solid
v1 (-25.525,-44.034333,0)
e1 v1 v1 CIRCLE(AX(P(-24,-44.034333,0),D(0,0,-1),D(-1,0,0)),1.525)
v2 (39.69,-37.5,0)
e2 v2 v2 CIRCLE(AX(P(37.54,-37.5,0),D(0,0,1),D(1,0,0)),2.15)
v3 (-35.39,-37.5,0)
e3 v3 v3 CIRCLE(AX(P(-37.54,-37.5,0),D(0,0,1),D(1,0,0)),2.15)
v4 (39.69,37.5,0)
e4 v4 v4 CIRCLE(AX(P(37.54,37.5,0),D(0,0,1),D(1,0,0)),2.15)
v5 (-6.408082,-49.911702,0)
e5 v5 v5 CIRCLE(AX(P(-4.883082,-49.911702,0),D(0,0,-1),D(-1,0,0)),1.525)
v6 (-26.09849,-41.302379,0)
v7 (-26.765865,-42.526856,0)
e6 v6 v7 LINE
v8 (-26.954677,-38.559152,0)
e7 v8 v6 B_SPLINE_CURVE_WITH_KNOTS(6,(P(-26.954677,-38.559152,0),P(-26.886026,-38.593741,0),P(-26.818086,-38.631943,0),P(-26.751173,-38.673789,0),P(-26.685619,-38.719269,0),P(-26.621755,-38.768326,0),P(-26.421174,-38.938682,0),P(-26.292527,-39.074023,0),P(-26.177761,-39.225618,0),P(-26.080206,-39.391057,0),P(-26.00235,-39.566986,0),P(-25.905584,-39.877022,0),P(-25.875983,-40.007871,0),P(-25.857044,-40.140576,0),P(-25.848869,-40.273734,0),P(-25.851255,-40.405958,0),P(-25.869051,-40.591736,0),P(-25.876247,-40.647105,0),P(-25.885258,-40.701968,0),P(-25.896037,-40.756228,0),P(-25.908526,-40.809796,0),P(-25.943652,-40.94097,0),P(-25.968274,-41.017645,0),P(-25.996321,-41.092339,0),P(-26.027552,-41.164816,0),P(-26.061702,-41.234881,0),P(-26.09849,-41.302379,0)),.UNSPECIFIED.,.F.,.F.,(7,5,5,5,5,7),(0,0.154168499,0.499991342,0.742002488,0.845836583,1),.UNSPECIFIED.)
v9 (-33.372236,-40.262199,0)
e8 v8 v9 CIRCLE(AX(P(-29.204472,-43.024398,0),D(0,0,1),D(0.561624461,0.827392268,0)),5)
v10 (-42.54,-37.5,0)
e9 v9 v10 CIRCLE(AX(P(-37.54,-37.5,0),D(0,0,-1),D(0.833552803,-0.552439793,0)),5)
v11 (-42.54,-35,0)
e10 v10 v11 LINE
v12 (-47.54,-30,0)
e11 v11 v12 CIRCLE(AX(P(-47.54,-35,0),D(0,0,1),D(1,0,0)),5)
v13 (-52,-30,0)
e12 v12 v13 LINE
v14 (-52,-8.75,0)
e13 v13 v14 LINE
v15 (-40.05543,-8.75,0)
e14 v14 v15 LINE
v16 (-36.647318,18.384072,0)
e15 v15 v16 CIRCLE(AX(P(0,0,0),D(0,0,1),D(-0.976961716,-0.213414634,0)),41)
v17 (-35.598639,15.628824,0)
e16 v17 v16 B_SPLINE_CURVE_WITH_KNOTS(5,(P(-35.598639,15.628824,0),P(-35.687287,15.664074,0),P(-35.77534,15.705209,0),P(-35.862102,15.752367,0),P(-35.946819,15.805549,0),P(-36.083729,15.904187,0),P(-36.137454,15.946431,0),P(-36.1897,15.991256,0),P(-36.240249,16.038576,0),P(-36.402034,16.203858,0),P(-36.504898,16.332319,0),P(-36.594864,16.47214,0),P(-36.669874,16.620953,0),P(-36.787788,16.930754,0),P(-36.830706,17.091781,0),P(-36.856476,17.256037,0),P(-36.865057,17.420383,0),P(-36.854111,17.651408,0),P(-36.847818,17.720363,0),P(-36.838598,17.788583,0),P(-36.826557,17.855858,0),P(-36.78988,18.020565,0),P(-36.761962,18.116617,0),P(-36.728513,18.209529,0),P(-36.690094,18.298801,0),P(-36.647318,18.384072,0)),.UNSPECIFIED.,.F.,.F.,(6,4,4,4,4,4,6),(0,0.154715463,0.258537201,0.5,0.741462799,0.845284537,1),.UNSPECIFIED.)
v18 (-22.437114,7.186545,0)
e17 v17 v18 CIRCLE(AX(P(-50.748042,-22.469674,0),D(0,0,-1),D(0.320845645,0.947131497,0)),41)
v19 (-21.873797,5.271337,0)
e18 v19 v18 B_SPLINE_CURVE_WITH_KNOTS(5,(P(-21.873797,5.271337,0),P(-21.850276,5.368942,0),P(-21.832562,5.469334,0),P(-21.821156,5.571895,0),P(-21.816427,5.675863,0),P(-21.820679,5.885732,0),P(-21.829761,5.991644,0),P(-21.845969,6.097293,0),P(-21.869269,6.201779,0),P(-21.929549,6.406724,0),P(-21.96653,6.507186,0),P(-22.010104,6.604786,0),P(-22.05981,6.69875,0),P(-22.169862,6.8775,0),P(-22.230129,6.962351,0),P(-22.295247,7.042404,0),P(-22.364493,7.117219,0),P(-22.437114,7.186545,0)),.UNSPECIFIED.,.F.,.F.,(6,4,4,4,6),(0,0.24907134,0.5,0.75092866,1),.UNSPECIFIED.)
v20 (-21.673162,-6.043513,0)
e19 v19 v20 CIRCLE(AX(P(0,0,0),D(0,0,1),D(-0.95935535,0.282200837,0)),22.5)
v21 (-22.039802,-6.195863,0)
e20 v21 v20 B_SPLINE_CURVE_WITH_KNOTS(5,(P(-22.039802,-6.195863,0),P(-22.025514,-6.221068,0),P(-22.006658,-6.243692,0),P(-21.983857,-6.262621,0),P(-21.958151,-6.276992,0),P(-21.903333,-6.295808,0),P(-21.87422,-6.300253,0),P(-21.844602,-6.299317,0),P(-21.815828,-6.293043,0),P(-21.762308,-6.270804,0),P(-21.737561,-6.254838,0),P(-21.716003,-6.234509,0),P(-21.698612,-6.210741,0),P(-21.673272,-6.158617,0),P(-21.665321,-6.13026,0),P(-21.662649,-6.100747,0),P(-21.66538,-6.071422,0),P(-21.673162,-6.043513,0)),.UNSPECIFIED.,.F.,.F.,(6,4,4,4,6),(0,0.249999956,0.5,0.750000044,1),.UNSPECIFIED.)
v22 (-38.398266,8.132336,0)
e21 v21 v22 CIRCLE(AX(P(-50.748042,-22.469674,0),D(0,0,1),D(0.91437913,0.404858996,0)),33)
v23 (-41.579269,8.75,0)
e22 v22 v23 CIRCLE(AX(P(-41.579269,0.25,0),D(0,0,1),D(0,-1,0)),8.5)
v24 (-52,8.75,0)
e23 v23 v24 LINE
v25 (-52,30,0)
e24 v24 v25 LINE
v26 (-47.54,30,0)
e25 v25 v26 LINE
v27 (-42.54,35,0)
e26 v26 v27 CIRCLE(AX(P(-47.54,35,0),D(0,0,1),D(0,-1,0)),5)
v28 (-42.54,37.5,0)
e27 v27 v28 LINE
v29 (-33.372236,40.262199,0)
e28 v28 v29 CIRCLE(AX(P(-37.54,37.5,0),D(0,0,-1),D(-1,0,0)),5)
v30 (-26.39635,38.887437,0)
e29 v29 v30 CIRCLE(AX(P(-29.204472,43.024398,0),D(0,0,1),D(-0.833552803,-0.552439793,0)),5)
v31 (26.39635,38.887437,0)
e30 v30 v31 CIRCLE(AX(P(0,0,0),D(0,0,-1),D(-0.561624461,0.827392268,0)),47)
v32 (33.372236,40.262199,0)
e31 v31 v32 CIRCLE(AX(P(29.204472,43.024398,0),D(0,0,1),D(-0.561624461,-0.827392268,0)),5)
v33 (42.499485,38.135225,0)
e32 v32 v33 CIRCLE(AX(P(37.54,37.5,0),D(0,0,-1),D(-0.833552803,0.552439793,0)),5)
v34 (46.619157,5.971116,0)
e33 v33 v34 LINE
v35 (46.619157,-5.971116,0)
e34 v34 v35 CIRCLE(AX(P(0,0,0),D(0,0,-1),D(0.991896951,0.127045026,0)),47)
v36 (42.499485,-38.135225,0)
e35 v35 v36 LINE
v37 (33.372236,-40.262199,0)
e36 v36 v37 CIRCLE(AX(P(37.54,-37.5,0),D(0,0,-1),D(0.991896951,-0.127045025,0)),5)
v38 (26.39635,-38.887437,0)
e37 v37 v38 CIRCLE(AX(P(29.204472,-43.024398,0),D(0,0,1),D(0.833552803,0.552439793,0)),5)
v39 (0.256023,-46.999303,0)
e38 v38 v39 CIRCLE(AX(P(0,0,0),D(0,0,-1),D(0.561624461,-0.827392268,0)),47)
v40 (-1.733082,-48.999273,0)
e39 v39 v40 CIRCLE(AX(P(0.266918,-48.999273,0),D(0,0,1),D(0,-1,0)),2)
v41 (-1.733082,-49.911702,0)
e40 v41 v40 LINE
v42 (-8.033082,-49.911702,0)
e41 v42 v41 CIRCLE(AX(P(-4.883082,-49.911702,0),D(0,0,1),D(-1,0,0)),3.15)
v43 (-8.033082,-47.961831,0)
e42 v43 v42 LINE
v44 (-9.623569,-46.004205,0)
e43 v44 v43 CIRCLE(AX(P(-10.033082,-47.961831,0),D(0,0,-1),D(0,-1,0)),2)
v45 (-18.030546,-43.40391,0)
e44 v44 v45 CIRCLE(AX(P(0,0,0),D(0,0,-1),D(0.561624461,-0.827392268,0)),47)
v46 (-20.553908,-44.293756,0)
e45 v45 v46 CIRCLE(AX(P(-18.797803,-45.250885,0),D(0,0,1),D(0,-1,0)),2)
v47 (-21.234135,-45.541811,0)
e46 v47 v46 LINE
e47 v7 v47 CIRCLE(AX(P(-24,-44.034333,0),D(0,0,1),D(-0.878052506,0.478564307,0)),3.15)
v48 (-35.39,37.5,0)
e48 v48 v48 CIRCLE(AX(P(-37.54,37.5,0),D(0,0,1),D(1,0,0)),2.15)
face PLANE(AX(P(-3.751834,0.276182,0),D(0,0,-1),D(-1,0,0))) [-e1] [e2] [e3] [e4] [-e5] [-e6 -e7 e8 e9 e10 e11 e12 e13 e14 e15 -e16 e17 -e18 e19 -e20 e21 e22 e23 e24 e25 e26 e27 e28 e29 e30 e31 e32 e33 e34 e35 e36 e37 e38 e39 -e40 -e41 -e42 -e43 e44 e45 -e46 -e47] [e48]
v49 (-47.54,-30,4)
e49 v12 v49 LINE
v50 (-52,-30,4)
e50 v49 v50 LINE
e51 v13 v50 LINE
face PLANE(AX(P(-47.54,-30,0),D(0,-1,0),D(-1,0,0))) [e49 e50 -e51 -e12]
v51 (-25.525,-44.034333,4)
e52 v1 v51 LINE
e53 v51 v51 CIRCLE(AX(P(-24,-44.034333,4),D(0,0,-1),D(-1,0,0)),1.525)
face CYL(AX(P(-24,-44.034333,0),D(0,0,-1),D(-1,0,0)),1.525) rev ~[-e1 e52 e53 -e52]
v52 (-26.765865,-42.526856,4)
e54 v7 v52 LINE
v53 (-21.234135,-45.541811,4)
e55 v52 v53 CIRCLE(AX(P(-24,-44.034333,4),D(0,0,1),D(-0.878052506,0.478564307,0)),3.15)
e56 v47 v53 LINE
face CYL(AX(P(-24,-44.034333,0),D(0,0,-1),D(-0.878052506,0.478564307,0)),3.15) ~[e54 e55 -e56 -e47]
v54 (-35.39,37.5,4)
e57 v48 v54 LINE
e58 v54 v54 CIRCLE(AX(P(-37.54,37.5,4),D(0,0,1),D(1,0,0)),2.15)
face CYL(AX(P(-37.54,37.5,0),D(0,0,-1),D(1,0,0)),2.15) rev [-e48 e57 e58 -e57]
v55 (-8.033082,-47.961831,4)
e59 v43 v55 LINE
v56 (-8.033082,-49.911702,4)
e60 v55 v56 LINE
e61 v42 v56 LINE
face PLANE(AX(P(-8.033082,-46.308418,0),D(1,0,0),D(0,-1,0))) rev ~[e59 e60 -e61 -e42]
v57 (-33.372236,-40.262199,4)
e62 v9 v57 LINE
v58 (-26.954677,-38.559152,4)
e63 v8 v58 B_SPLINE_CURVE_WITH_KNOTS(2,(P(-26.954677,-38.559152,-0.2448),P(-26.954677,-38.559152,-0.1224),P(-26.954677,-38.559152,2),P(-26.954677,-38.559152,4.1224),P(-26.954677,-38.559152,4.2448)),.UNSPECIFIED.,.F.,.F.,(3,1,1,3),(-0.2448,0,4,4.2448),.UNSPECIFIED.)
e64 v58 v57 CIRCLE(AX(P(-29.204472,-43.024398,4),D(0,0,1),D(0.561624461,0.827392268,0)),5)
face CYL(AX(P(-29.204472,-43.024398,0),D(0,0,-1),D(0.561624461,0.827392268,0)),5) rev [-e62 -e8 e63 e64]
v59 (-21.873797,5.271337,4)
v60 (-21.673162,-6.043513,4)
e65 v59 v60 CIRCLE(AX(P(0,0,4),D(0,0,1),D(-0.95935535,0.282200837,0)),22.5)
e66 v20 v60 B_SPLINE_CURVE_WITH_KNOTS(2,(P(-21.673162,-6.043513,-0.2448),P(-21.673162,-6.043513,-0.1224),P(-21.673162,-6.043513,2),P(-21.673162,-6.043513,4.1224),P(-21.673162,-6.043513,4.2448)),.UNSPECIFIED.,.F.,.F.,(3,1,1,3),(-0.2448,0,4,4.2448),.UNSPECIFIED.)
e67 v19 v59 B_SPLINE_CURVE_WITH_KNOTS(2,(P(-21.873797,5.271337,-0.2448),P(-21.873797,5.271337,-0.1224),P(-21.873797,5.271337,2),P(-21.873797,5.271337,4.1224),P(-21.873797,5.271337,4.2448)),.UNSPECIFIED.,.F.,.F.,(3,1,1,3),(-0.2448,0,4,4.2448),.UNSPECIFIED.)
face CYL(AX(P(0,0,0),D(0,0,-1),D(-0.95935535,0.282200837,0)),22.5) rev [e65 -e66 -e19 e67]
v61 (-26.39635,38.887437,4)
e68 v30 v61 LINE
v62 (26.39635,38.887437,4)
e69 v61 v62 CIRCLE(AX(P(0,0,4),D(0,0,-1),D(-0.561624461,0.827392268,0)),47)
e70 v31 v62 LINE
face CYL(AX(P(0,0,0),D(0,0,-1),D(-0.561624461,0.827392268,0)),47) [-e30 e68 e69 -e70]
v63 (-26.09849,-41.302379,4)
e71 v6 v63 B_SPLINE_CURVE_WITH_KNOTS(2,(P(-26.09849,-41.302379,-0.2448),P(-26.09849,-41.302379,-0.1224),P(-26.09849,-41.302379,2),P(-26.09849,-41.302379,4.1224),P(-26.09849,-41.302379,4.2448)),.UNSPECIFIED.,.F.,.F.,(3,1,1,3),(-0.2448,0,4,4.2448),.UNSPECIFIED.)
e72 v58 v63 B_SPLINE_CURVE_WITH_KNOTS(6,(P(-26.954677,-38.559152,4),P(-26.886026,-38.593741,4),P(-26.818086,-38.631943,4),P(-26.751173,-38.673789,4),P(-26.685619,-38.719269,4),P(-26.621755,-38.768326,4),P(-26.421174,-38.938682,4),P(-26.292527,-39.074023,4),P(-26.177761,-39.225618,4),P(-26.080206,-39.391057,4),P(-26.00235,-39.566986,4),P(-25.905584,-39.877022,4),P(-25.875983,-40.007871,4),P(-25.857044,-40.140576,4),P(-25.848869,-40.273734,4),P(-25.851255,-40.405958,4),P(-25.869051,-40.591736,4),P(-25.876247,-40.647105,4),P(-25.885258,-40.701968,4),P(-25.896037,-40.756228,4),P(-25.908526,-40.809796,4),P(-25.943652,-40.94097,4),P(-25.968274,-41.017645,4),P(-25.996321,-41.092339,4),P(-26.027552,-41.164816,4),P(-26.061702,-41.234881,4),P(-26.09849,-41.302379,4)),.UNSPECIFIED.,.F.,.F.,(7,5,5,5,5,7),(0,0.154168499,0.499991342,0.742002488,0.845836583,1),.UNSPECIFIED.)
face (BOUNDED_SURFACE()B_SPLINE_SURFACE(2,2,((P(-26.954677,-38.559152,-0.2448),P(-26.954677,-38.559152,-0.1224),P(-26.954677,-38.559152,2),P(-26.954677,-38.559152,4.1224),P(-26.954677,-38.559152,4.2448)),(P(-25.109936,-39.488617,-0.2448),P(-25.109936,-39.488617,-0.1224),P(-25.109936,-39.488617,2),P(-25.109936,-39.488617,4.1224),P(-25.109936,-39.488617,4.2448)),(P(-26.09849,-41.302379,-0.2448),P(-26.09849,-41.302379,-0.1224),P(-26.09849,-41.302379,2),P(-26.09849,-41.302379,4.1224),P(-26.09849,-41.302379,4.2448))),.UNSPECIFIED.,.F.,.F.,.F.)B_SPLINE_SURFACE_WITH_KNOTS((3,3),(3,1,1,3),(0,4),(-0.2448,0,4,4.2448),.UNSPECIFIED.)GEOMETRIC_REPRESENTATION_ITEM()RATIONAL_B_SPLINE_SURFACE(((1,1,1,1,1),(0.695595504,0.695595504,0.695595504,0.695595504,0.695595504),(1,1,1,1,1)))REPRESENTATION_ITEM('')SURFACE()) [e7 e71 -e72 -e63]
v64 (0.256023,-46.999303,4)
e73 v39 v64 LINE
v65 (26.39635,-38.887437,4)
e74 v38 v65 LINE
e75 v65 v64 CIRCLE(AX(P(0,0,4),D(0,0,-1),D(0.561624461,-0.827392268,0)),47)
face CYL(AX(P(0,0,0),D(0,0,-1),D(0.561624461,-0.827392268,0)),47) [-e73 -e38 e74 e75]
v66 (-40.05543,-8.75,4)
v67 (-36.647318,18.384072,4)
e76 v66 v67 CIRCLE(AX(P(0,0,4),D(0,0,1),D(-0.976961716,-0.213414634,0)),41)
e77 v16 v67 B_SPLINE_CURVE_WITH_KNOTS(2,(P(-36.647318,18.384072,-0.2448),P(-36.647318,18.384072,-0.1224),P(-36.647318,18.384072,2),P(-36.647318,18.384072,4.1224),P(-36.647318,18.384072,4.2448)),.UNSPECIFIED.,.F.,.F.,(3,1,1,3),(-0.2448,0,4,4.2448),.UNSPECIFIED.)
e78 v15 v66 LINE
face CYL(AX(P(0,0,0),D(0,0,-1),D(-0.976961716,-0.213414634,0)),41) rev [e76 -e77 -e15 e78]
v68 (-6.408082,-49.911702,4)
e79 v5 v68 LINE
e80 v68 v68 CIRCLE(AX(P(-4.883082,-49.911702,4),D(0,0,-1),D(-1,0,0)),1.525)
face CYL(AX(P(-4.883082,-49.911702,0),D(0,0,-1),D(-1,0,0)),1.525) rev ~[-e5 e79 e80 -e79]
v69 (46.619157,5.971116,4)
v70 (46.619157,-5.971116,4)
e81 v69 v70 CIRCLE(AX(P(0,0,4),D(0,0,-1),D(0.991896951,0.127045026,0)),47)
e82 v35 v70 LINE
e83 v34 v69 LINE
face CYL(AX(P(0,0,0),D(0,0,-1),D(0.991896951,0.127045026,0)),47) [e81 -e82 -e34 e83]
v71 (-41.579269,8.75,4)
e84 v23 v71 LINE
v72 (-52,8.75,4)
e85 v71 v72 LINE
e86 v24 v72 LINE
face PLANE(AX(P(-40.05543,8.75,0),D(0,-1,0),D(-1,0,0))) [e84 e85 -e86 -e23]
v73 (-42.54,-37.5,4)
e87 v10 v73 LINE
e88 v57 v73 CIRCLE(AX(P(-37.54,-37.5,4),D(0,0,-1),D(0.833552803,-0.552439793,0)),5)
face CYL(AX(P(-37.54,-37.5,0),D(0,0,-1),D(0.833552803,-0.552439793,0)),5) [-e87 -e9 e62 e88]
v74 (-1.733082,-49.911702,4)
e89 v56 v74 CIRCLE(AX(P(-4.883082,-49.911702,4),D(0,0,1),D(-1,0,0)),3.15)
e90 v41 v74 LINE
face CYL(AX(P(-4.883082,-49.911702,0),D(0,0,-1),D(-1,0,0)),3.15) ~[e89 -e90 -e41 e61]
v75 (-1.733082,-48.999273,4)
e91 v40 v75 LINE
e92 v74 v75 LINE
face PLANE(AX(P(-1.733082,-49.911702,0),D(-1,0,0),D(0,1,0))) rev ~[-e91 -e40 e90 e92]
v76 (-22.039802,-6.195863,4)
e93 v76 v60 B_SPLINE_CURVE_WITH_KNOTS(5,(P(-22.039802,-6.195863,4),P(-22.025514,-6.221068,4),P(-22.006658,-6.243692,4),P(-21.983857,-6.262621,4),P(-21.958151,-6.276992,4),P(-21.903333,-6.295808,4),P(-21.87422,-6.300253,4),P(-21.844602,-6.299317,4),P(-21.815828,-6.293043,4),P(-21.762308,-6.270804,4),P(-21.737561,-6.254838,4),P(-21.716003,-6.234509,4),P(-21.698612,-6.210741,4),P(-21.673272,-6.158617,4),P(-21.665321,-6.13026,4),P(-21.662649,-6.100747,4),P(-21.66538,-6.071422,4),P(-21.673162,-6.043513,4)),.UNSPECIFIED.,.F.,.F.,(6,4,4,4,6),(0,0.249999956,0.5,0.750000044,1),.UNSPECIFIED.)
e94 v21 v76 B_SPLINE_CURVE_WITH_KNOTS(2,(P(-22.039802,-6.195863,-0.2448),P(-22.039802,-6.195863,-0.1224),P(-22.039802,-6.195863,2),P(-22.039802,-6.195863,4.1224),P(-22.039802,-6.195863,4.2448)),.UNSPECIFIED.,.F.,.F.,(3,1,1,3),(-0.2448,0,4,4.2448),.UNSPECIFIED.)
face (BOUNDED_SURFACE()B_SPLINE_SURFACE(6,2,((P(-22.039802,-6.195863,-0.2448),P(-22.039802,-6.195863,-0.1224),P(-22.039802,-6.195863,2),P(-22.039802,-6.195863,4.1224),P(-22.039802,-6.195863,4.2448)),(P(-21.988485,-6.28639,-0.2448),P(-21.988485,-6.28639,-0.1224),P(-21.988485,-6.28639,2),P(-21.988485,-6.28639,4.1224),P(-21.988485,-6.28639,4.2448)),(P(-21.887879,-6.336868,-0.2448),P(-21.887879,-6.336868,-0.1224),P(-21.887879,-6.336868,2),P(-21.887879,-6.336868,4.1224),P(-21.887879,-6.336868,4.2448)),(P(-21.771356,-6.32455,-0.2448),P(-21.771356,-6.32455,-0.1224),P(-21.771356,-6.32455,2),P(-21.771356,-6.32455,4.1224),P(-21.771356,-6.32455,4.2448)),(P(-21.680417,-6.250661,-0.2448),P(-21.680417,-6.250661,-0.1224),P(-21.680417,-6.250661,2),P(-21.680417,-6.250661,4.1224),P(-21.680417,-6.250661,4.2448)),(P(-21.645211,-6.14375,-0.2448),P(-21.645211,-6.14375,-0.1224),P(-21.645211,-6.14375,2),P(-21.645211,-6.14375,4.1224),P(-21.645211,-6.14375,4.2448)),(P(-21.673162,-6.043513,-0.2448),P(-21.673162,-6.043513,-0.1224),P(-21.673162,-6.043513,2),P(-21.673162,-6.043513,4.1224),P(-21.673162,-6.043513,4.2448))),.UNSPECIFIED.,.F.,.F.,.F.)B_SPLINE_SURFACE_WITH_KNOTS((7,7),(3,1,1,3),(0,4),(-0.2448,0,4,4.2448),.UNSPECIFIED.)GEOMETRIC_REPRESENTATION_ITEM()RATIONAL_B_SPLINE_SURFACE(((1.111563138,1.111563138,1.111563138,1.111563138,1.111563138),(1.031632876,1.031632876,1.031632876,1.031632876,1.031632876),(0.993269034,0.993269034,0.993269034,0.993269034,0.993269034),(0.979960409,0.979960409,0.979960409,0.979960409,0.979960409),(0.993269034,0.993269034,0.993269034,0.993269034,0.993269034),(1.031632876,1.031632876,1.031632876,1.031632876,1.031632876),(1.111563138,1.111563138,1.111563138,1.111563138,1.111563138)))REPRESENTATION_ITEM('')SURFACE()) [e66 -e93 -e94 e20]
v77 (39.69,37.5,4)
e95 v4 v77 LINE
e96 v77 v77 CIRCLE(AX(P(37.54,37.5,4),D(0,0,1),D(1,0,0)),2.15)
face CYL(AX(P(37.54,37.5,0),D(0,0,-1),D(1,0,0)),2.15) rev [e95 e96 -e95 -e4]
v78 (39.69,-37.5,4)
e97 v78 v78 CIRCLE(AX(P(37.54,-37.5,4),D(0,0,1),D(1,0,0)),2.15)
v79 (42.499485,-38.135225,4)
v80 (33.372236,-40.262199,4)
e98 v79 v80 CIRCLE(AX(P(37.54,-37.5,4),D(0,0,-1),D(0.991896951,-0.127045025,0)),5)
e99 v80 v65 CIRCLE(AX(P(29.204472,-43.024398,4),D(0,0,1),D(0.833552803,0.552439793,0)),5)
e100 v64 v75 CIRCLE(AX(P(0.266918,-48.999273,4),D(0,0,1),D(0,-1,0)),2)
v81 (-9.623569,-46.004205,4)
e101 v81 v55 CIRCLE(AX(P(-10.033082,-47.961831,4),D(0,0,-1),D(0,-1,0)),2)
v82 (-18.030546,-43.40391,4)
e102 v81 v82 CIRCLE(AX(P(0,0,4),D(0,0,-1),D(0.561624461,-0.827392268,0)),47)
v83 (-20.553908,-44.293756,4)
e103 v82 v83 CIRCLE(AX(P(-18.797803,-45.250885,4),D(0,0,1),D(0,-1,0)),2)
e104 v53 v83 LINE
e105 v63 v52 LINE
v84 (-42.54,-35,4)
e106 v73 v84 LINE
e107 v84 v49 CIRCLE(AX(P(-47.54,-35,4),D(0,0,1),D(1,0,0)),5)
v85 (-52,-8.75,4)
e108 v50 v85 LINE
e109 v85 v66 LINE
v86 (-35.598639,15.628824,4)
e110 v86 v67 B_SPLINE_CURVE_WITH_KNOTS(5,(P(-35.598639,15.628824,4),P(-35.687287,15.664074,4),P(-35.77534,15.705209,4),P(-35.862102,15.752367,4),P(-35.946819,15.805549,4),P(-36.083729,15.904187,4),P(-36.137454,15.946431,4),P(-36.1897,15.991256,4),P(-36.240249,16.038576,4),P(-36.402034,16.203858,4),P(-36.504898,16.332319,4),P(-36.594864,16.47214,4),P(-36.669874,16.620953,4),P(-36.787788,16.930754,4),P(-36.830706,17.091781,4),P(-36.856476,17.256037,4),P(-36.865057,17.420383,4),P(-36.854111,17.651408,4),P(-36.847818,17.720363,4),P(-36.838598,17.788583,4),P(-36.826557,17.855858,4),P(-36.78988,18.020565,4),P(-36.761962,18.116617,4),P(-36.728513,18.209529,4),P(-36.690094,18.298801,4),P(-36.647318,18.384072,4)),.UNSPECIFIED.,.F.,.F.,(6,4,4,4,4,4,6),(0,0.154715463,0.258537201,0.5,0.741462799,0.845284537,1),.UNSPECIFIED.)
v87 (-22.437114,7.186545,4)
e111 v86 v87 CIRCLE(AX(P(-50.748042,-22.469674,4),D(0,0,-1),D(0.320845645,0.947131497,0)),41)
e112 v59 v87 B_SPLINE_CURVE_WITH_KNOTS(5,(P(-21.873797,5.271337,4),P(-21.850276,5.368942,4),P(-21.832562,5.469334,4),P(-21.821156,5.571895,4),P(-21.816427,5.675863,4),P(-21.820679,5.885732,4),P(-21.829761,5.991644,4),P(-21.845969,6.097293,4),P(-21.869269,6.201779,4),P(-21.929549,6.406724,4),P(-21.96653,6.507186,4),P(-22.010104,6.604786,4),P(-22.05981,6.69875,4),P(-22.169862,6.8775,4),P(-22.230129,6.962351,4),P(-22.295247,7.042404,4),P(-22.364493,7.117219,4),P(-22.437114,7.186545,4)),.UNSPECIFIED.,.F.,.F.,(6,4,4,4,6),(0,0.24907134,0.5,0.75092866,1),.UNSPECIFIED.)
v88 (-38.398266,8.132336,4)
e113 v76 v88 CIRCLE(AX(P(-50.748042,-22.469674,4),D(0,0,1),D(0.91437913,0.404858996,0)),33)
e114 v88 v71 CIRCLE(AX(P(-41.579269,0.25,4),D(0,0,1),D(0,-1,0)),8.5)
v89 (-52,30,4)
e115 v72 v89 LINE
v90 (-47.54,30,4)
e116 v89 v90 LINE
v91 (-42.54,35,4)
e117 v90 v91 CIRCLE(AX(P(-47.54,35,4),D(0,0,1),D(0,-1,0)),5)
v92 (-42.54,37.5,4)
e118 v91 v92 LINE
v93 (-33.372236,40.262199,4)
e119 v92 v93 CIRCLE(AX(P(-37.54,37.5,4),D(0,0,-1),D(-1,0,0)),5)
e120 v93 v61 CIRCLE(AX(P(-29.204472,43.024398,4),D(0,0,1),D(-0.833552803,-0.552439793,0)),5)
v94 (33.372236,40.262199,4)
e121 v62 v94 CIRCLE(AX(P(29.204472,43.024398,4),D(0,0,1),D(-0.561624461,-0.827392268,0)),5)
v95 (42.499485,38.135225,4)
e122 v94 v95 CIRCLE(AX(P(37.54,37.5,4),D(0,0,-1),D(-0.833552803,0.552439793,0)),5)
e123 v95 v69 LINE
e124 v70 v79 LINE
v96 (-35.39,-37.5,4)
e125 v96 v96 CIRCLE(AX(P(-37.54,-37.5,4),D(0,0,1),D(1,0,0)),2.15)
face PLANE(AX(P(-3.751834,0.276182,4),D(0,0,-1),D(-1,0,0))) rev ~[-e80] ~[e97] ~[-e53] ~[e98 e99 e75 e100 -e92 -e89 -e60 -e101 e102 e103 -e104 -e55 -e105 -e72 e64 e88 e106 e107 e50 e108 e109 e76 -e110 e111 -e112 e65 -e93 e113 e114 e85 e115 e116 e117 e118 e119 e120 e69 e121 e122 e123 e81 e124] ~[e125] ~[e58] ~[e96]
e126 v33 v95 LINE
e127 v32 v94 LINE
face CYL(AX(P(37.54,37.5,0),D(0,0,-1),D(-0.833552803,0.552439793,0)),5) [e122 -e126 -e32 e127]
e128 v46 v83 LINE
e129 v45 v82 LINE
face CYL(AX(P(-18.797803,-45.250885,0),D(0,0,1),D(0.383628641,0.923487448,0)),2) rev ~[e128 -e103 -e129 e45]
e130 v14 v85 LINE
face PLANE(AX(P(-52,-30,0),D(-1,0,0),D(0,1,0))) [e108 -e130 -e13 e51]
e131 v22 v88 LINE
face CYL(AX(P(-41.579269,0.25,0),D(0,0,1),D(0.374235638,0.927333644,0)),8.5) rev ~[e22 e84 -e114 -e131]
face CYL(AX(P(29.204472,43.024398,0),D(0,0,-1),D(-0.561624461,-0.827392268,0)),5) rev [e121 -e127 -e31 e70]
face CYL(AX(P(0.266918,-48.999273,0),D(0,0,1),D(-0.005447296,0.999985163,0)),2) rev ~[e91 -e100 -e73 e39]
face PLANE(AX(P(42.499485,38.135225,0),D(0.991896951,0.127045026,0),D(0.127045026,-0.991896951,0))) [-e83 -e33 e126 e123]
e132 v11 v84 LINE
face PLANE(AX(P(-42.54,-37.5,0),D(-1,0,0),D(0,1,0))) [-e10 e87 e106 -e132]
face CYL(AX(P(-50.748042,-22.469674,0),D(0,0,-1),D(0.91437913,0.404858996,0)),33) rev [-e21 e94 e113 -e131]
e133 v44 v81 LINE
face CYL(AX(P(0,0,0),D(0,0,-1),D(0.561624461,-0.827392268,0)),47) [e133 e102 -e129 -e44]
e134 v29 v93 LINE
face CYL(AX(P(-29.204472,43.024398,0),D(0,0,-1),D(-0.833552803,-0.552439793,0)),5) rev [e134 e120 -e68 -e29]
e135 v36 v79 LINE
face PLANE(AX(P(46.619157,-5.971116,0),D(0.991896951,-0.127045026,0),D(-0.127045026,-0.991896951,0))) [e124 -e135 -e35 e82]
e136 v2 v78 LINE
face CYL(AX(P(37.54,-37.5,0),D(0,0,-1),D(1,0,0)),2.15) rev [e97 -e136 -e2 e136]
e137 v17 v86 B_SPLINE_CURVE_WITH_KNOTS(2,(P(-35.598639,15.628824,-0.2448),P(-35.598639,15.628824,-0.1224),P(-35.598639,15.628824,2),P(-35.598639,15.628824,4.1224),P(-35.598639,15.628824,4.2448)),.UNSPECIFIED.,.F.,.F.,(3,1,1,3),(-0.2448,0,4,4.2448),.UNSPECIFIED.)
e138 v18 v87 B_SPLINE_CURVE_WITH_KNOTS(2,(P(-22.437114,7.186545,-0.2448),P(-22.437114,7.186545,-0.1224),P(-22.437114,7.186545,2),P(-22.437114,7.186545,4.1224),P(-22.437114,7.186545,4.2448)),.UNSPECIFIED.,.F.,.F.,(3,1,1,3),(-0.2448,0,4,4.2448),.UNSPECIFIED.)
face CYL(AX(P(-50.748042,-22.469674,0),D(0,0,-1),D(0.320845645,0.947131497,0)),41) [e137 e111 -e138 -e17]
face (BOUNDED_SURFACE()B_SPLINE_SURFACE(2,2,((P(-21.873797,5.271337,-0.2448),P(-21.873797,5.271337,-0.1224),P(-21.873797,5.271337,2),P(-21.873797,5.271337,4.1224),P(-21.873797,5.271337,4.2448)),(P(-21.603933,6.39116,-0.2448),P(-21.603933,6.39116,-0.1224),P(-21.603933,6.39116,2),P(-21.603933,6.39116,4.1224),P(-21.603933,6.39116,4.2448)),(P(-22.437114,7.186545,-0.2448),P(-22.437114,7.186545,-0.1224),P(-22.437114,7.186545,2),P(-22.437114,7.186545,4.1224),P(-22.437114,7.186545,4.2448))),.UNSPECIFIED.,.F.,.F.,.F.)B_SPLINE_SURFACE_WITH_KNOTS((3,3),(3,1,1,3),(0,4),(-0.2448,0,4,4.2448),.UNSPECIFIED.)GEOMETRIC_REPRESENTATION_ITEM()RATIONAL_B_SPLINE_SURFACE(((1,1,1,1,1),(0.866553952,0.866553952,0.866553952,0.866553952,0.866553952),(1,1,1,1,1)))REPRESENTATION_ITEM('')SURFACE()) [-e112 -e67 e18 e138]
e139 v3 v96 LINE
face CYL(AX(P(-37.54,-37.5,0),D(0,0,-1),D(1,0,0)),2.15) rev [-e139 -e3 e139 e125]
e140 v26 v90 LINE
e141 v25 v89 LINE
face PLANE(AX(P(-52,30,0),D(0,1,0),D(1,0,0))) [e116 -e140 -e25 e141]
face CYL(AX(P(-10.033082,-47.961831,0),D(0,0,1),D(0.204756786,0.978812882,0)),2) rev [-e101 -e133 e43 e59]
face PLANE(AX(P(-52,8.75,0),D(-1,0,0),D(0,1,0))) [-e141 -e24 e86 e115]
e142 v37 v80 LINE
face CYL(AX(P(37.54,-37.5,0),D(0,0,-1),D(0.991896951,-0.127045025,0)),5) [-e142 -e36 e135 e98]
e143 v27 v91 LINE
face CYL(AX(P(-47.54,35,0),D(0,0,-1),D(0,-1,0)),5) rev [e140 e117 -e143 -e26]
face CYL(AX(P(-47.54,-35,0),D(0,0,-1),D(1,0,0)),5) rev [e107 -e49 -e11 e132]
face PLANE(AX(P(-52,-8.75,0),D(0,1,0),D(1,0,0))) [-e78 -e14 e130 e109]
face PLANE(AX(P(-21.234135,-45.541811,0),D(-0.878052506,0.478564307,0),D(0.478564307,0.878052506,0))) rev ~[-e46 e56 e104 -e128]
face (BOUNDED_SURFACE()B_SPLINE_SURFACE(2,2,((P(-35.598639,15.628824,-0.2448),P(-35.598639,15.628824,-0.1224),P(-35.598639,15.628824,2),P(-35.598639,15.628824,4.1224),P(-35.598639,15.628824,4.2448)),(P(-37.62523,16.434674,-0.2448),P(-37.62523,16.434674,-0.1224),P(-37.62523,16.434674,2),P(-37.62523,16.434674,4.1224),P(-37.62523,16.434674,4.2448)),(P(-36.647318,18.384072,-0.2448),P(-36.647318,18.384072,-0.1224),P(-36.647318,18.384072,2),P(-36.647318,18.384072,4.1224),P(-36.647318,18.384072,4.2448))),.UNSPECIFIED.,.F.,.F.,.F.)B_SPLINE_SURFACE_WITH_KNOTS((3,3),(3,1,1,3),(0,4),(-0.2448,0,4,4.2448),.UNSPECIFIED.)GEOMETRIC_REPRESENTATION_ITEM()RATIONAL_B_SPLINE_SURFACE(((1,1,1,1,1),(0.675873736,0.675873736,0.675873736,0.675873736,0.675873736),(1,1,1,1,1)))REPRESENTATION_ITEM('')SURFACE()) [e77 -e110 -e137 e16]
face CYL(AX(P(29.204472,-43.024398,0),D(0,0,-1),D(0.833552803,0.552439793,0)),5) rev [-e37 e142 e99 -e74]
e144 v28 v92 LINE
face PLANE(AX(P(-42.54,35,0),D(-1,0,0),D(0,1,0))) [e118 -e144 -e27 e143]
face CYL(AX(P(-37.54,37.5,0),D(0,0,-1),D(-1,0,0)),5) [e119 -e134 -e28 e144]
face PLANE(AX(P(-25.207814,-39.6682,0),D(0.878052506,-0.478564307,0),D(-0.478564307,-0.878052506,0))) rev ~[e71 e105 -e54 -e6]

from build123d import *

# Parameters (mm, degrees)
SKETCH_1_R      = 2.15
EXTRUDE_1_DEPTH = 4
FILLET_1_R      = 0.2
FILLET_2_R      = 2
FILLET_3_R      = 2
FILLET_4_R      = 8.5
SKETCH_2_R      = 1.525
EXTRUDE_2_DEPTH = 4
FILLET_5_R      = 2


with BuildPart() as part:
    # 草图1 → 凸台-拉伸1 (new body)
    with BuildSketch(Plane.XY):
        with BuildLine():
            Line((-52, 8.75), (-52, 30))
            Line((-52, 30), (-47.54, 30))
            ThreePointArc((-47.54, 30), (-44.004466094, 31.464466094), (-42.54, 35))
            Line((-42.54, 35), (-42.54, 37.5))
            ThreePointArc((-42.54, 37.5), (-38.982425028, 42.287422066), (-33.372235985, 40.262198963))
            ThreePointArc((-33.372235985, 40.262198963), (-30.171244586, 38.118753147), (-26.396349665, 38.887436588))
            ThreePointArc((-26.396349665, 38.887436588), (0, 47), (26.396349665, 38.887436588))
            ThreePointArc((26.396349665, 38.887436588), (30.171244586, 38.118753147), (33.372235985, 40.262198963))
            ThreePointArc((33.372235985, 40.262198963), (38.674773042, 42.369526686), (42.499484755, 38.135225128))
            Line((42.499484755, 38.135225128), (46.619156699, 5.971116201))
            ThreePointArc((46.619156699, 5.971116201), (47, 0), (46.619156699, -5.971116201))
            Line((46.619156699, -5.971116201), (42.499484755, -38.135225128))
            ThreePointArc((42.499484755, -38.135225128), (38.674773042, -42.369526686), (33.372235985, -40.262198963))
            ThreePointArc((33.372235985, -40.262198963), (30.171244586, -38.118753147), (26.396349665, -38.887436588))
            ThreePointArc((26.396349665, -38.887436588), (0, -47), (-26.396349665, -38.887436588))
            ThreePointArc((-26.396349665, -38.887436588), (-30.171244586, -38.118753147), (-33.372235985, -40.262198963))
            ThreePointArc((-33.372235985, -40.262198963), (-38.982425028, -42.287422066), (-42.54, -37.5))
            Line((-42.54, -37.5), (-42.54, -35))
            ThreePointArc((-42.54, -35), (-44.004466094, -31.464466094), (-47.54, -30))
            Line((-47.54, -30), (-52, -30))
            Line((-52, -30), (-52, -8.75))
            Line((-52, -8.75), (-40.055430343, -8.75))
            ThreePointArc((-40.055430343, -8.75), (40.804364959, -4.000475011), (-37.593370285, 16.362717092))
            ThreePointArc((-37.593370285, 16.362717092), (-29.005163231, 12.290176631), (-21.585495377, 6.349518825))
            ThreePointArc((-21.585495377, 6.349518825), (-22.451945258, -1.469746278), (-20.573530425, -9.10932741))
            ThreePointArc((-20.573530425, -9.10932741), (-28.44850534, 1.855840669), (-40.055430343, 8.75))
            Line((-40.055430343, 8.75), (-52, 8.75))
        make_face()
        with Locations((-37.54, 37.5)):
            Circle(SKETCH_1_R, mode=Mode.SUBTRACT)
        with Locations((-37.54, -37.5)):
            Circle(SKETCH_1_R, mode=Mode.SUBTRACT)
        with Locations((37.54, -37.5)):
            Circle(SKETCH_1_R, mode=Mode.SUBTRACT)
        with Locations((37.54, 37.5)):
            Circle(SKETCH_1_R, mode=Mode.SUBTRACT)
    extrude(amount=EXTRUDE_1_DEPTH)

    # 圆角1
    fillet_1_edges = [part.edges().sort_by_distance(p)[0] for p in [
        (-20.573530425, -9.10932741, 2),
    ]]
    fillet(fillet_1_edges, radius=FILLET_1_R)

    # 圆角2
    fillet_2_edges = [part.edges().sort_by_distance(p)[0] for p in [
        (-21.585495377, 6.349518825, 2),
    ]]
    fillet(fillet_2_edges, radius=FILLET_2_R)

    # 圆角3
    fillet_3_edges = [part.edges().sort_by_distance(p)[0] for p in [
        (-37.593370285, 16.362717092, 2),
    ]]
    fillet(fillet_3_edges, radius=FILLET_3_R)

    # 圆角4
    fillet_4_edges = [part.edges().sort_by_distance(p)[0] for p in [
        (-40.055430343, 8.75, 2),
    ]]
    fillet(fillet_4_edges, radius=FILLET_4_R)

    # 草图2 → 凸台-拉伸2 (add)
    # profile 1 of 2: a face of its own
    with BuildSketch(Plane(origin=(0, 0, 0), x_dir=(-1, 0, 0), z_dir=(0, 0, -1))):
        with BuildLine():
            Line((1.733082495, -49.911702088), (1.733082495, -46.968036206))
            ThreePointArc((1.733082495, -46.968036206), (4.894207665, -46.744483432), (8.033082495, -46.308418086))
            Line((8.033082495, -46.308418086), (8.033082495, -49.911702088))
            ThreePointArc((8.033082495, -49.911702088), (4.883082495, -53.061702088), (1.733082495, -49.911702088))
        make_face()
        with Locations((4.883082495, -49.911702088)):
            Circle(SKETCH_2_R, mode=Mode.SUBTRACT)
    # profile 2 of 2: a face of its own
    with BuildSketch(Plane(origin=(0, 0, 0), x_dir=(-1, 0, 0), z_dir=(0, 0, -1))):
        with BuildLine():
            Line((21.234134605, -45.541810763), (19.676083646, -42.683155136))
            ThreePointArc((19.676083646, -42.683155136), (22.492522433, -41.268467801), (25.207814436, -39.668200001))
            Line((25.207814436, -39.668200001), (26.765865395, -42.526855629))
            ThreePointArc((26.765865395, -42.526855629), (25.507477567, -46.800198591), (21.234134605, -45.541810763))
        make_face()
        with Locations((24, -44.034333196)):
            Circle(SKETCH_2_R, mode=Mode.SUBTRACT)
    extrude(amount=-EXTRUDE_2_DEPTH)

    # 圆角5
    fillet_5_edges = [part.edges().sort_by_distance(p)[0] for p in [
        (-1.733082495, -46.968036206, 2),
        (-19.676083646, -42.683155136, 2),
        (-25.207814436, -39.668200001, 2),
        (-8.033082495, -46.308418086, 2),
    ]]
    fillet(fillet_5_edges, radius=FILLET_5_R)


solid = part.part
